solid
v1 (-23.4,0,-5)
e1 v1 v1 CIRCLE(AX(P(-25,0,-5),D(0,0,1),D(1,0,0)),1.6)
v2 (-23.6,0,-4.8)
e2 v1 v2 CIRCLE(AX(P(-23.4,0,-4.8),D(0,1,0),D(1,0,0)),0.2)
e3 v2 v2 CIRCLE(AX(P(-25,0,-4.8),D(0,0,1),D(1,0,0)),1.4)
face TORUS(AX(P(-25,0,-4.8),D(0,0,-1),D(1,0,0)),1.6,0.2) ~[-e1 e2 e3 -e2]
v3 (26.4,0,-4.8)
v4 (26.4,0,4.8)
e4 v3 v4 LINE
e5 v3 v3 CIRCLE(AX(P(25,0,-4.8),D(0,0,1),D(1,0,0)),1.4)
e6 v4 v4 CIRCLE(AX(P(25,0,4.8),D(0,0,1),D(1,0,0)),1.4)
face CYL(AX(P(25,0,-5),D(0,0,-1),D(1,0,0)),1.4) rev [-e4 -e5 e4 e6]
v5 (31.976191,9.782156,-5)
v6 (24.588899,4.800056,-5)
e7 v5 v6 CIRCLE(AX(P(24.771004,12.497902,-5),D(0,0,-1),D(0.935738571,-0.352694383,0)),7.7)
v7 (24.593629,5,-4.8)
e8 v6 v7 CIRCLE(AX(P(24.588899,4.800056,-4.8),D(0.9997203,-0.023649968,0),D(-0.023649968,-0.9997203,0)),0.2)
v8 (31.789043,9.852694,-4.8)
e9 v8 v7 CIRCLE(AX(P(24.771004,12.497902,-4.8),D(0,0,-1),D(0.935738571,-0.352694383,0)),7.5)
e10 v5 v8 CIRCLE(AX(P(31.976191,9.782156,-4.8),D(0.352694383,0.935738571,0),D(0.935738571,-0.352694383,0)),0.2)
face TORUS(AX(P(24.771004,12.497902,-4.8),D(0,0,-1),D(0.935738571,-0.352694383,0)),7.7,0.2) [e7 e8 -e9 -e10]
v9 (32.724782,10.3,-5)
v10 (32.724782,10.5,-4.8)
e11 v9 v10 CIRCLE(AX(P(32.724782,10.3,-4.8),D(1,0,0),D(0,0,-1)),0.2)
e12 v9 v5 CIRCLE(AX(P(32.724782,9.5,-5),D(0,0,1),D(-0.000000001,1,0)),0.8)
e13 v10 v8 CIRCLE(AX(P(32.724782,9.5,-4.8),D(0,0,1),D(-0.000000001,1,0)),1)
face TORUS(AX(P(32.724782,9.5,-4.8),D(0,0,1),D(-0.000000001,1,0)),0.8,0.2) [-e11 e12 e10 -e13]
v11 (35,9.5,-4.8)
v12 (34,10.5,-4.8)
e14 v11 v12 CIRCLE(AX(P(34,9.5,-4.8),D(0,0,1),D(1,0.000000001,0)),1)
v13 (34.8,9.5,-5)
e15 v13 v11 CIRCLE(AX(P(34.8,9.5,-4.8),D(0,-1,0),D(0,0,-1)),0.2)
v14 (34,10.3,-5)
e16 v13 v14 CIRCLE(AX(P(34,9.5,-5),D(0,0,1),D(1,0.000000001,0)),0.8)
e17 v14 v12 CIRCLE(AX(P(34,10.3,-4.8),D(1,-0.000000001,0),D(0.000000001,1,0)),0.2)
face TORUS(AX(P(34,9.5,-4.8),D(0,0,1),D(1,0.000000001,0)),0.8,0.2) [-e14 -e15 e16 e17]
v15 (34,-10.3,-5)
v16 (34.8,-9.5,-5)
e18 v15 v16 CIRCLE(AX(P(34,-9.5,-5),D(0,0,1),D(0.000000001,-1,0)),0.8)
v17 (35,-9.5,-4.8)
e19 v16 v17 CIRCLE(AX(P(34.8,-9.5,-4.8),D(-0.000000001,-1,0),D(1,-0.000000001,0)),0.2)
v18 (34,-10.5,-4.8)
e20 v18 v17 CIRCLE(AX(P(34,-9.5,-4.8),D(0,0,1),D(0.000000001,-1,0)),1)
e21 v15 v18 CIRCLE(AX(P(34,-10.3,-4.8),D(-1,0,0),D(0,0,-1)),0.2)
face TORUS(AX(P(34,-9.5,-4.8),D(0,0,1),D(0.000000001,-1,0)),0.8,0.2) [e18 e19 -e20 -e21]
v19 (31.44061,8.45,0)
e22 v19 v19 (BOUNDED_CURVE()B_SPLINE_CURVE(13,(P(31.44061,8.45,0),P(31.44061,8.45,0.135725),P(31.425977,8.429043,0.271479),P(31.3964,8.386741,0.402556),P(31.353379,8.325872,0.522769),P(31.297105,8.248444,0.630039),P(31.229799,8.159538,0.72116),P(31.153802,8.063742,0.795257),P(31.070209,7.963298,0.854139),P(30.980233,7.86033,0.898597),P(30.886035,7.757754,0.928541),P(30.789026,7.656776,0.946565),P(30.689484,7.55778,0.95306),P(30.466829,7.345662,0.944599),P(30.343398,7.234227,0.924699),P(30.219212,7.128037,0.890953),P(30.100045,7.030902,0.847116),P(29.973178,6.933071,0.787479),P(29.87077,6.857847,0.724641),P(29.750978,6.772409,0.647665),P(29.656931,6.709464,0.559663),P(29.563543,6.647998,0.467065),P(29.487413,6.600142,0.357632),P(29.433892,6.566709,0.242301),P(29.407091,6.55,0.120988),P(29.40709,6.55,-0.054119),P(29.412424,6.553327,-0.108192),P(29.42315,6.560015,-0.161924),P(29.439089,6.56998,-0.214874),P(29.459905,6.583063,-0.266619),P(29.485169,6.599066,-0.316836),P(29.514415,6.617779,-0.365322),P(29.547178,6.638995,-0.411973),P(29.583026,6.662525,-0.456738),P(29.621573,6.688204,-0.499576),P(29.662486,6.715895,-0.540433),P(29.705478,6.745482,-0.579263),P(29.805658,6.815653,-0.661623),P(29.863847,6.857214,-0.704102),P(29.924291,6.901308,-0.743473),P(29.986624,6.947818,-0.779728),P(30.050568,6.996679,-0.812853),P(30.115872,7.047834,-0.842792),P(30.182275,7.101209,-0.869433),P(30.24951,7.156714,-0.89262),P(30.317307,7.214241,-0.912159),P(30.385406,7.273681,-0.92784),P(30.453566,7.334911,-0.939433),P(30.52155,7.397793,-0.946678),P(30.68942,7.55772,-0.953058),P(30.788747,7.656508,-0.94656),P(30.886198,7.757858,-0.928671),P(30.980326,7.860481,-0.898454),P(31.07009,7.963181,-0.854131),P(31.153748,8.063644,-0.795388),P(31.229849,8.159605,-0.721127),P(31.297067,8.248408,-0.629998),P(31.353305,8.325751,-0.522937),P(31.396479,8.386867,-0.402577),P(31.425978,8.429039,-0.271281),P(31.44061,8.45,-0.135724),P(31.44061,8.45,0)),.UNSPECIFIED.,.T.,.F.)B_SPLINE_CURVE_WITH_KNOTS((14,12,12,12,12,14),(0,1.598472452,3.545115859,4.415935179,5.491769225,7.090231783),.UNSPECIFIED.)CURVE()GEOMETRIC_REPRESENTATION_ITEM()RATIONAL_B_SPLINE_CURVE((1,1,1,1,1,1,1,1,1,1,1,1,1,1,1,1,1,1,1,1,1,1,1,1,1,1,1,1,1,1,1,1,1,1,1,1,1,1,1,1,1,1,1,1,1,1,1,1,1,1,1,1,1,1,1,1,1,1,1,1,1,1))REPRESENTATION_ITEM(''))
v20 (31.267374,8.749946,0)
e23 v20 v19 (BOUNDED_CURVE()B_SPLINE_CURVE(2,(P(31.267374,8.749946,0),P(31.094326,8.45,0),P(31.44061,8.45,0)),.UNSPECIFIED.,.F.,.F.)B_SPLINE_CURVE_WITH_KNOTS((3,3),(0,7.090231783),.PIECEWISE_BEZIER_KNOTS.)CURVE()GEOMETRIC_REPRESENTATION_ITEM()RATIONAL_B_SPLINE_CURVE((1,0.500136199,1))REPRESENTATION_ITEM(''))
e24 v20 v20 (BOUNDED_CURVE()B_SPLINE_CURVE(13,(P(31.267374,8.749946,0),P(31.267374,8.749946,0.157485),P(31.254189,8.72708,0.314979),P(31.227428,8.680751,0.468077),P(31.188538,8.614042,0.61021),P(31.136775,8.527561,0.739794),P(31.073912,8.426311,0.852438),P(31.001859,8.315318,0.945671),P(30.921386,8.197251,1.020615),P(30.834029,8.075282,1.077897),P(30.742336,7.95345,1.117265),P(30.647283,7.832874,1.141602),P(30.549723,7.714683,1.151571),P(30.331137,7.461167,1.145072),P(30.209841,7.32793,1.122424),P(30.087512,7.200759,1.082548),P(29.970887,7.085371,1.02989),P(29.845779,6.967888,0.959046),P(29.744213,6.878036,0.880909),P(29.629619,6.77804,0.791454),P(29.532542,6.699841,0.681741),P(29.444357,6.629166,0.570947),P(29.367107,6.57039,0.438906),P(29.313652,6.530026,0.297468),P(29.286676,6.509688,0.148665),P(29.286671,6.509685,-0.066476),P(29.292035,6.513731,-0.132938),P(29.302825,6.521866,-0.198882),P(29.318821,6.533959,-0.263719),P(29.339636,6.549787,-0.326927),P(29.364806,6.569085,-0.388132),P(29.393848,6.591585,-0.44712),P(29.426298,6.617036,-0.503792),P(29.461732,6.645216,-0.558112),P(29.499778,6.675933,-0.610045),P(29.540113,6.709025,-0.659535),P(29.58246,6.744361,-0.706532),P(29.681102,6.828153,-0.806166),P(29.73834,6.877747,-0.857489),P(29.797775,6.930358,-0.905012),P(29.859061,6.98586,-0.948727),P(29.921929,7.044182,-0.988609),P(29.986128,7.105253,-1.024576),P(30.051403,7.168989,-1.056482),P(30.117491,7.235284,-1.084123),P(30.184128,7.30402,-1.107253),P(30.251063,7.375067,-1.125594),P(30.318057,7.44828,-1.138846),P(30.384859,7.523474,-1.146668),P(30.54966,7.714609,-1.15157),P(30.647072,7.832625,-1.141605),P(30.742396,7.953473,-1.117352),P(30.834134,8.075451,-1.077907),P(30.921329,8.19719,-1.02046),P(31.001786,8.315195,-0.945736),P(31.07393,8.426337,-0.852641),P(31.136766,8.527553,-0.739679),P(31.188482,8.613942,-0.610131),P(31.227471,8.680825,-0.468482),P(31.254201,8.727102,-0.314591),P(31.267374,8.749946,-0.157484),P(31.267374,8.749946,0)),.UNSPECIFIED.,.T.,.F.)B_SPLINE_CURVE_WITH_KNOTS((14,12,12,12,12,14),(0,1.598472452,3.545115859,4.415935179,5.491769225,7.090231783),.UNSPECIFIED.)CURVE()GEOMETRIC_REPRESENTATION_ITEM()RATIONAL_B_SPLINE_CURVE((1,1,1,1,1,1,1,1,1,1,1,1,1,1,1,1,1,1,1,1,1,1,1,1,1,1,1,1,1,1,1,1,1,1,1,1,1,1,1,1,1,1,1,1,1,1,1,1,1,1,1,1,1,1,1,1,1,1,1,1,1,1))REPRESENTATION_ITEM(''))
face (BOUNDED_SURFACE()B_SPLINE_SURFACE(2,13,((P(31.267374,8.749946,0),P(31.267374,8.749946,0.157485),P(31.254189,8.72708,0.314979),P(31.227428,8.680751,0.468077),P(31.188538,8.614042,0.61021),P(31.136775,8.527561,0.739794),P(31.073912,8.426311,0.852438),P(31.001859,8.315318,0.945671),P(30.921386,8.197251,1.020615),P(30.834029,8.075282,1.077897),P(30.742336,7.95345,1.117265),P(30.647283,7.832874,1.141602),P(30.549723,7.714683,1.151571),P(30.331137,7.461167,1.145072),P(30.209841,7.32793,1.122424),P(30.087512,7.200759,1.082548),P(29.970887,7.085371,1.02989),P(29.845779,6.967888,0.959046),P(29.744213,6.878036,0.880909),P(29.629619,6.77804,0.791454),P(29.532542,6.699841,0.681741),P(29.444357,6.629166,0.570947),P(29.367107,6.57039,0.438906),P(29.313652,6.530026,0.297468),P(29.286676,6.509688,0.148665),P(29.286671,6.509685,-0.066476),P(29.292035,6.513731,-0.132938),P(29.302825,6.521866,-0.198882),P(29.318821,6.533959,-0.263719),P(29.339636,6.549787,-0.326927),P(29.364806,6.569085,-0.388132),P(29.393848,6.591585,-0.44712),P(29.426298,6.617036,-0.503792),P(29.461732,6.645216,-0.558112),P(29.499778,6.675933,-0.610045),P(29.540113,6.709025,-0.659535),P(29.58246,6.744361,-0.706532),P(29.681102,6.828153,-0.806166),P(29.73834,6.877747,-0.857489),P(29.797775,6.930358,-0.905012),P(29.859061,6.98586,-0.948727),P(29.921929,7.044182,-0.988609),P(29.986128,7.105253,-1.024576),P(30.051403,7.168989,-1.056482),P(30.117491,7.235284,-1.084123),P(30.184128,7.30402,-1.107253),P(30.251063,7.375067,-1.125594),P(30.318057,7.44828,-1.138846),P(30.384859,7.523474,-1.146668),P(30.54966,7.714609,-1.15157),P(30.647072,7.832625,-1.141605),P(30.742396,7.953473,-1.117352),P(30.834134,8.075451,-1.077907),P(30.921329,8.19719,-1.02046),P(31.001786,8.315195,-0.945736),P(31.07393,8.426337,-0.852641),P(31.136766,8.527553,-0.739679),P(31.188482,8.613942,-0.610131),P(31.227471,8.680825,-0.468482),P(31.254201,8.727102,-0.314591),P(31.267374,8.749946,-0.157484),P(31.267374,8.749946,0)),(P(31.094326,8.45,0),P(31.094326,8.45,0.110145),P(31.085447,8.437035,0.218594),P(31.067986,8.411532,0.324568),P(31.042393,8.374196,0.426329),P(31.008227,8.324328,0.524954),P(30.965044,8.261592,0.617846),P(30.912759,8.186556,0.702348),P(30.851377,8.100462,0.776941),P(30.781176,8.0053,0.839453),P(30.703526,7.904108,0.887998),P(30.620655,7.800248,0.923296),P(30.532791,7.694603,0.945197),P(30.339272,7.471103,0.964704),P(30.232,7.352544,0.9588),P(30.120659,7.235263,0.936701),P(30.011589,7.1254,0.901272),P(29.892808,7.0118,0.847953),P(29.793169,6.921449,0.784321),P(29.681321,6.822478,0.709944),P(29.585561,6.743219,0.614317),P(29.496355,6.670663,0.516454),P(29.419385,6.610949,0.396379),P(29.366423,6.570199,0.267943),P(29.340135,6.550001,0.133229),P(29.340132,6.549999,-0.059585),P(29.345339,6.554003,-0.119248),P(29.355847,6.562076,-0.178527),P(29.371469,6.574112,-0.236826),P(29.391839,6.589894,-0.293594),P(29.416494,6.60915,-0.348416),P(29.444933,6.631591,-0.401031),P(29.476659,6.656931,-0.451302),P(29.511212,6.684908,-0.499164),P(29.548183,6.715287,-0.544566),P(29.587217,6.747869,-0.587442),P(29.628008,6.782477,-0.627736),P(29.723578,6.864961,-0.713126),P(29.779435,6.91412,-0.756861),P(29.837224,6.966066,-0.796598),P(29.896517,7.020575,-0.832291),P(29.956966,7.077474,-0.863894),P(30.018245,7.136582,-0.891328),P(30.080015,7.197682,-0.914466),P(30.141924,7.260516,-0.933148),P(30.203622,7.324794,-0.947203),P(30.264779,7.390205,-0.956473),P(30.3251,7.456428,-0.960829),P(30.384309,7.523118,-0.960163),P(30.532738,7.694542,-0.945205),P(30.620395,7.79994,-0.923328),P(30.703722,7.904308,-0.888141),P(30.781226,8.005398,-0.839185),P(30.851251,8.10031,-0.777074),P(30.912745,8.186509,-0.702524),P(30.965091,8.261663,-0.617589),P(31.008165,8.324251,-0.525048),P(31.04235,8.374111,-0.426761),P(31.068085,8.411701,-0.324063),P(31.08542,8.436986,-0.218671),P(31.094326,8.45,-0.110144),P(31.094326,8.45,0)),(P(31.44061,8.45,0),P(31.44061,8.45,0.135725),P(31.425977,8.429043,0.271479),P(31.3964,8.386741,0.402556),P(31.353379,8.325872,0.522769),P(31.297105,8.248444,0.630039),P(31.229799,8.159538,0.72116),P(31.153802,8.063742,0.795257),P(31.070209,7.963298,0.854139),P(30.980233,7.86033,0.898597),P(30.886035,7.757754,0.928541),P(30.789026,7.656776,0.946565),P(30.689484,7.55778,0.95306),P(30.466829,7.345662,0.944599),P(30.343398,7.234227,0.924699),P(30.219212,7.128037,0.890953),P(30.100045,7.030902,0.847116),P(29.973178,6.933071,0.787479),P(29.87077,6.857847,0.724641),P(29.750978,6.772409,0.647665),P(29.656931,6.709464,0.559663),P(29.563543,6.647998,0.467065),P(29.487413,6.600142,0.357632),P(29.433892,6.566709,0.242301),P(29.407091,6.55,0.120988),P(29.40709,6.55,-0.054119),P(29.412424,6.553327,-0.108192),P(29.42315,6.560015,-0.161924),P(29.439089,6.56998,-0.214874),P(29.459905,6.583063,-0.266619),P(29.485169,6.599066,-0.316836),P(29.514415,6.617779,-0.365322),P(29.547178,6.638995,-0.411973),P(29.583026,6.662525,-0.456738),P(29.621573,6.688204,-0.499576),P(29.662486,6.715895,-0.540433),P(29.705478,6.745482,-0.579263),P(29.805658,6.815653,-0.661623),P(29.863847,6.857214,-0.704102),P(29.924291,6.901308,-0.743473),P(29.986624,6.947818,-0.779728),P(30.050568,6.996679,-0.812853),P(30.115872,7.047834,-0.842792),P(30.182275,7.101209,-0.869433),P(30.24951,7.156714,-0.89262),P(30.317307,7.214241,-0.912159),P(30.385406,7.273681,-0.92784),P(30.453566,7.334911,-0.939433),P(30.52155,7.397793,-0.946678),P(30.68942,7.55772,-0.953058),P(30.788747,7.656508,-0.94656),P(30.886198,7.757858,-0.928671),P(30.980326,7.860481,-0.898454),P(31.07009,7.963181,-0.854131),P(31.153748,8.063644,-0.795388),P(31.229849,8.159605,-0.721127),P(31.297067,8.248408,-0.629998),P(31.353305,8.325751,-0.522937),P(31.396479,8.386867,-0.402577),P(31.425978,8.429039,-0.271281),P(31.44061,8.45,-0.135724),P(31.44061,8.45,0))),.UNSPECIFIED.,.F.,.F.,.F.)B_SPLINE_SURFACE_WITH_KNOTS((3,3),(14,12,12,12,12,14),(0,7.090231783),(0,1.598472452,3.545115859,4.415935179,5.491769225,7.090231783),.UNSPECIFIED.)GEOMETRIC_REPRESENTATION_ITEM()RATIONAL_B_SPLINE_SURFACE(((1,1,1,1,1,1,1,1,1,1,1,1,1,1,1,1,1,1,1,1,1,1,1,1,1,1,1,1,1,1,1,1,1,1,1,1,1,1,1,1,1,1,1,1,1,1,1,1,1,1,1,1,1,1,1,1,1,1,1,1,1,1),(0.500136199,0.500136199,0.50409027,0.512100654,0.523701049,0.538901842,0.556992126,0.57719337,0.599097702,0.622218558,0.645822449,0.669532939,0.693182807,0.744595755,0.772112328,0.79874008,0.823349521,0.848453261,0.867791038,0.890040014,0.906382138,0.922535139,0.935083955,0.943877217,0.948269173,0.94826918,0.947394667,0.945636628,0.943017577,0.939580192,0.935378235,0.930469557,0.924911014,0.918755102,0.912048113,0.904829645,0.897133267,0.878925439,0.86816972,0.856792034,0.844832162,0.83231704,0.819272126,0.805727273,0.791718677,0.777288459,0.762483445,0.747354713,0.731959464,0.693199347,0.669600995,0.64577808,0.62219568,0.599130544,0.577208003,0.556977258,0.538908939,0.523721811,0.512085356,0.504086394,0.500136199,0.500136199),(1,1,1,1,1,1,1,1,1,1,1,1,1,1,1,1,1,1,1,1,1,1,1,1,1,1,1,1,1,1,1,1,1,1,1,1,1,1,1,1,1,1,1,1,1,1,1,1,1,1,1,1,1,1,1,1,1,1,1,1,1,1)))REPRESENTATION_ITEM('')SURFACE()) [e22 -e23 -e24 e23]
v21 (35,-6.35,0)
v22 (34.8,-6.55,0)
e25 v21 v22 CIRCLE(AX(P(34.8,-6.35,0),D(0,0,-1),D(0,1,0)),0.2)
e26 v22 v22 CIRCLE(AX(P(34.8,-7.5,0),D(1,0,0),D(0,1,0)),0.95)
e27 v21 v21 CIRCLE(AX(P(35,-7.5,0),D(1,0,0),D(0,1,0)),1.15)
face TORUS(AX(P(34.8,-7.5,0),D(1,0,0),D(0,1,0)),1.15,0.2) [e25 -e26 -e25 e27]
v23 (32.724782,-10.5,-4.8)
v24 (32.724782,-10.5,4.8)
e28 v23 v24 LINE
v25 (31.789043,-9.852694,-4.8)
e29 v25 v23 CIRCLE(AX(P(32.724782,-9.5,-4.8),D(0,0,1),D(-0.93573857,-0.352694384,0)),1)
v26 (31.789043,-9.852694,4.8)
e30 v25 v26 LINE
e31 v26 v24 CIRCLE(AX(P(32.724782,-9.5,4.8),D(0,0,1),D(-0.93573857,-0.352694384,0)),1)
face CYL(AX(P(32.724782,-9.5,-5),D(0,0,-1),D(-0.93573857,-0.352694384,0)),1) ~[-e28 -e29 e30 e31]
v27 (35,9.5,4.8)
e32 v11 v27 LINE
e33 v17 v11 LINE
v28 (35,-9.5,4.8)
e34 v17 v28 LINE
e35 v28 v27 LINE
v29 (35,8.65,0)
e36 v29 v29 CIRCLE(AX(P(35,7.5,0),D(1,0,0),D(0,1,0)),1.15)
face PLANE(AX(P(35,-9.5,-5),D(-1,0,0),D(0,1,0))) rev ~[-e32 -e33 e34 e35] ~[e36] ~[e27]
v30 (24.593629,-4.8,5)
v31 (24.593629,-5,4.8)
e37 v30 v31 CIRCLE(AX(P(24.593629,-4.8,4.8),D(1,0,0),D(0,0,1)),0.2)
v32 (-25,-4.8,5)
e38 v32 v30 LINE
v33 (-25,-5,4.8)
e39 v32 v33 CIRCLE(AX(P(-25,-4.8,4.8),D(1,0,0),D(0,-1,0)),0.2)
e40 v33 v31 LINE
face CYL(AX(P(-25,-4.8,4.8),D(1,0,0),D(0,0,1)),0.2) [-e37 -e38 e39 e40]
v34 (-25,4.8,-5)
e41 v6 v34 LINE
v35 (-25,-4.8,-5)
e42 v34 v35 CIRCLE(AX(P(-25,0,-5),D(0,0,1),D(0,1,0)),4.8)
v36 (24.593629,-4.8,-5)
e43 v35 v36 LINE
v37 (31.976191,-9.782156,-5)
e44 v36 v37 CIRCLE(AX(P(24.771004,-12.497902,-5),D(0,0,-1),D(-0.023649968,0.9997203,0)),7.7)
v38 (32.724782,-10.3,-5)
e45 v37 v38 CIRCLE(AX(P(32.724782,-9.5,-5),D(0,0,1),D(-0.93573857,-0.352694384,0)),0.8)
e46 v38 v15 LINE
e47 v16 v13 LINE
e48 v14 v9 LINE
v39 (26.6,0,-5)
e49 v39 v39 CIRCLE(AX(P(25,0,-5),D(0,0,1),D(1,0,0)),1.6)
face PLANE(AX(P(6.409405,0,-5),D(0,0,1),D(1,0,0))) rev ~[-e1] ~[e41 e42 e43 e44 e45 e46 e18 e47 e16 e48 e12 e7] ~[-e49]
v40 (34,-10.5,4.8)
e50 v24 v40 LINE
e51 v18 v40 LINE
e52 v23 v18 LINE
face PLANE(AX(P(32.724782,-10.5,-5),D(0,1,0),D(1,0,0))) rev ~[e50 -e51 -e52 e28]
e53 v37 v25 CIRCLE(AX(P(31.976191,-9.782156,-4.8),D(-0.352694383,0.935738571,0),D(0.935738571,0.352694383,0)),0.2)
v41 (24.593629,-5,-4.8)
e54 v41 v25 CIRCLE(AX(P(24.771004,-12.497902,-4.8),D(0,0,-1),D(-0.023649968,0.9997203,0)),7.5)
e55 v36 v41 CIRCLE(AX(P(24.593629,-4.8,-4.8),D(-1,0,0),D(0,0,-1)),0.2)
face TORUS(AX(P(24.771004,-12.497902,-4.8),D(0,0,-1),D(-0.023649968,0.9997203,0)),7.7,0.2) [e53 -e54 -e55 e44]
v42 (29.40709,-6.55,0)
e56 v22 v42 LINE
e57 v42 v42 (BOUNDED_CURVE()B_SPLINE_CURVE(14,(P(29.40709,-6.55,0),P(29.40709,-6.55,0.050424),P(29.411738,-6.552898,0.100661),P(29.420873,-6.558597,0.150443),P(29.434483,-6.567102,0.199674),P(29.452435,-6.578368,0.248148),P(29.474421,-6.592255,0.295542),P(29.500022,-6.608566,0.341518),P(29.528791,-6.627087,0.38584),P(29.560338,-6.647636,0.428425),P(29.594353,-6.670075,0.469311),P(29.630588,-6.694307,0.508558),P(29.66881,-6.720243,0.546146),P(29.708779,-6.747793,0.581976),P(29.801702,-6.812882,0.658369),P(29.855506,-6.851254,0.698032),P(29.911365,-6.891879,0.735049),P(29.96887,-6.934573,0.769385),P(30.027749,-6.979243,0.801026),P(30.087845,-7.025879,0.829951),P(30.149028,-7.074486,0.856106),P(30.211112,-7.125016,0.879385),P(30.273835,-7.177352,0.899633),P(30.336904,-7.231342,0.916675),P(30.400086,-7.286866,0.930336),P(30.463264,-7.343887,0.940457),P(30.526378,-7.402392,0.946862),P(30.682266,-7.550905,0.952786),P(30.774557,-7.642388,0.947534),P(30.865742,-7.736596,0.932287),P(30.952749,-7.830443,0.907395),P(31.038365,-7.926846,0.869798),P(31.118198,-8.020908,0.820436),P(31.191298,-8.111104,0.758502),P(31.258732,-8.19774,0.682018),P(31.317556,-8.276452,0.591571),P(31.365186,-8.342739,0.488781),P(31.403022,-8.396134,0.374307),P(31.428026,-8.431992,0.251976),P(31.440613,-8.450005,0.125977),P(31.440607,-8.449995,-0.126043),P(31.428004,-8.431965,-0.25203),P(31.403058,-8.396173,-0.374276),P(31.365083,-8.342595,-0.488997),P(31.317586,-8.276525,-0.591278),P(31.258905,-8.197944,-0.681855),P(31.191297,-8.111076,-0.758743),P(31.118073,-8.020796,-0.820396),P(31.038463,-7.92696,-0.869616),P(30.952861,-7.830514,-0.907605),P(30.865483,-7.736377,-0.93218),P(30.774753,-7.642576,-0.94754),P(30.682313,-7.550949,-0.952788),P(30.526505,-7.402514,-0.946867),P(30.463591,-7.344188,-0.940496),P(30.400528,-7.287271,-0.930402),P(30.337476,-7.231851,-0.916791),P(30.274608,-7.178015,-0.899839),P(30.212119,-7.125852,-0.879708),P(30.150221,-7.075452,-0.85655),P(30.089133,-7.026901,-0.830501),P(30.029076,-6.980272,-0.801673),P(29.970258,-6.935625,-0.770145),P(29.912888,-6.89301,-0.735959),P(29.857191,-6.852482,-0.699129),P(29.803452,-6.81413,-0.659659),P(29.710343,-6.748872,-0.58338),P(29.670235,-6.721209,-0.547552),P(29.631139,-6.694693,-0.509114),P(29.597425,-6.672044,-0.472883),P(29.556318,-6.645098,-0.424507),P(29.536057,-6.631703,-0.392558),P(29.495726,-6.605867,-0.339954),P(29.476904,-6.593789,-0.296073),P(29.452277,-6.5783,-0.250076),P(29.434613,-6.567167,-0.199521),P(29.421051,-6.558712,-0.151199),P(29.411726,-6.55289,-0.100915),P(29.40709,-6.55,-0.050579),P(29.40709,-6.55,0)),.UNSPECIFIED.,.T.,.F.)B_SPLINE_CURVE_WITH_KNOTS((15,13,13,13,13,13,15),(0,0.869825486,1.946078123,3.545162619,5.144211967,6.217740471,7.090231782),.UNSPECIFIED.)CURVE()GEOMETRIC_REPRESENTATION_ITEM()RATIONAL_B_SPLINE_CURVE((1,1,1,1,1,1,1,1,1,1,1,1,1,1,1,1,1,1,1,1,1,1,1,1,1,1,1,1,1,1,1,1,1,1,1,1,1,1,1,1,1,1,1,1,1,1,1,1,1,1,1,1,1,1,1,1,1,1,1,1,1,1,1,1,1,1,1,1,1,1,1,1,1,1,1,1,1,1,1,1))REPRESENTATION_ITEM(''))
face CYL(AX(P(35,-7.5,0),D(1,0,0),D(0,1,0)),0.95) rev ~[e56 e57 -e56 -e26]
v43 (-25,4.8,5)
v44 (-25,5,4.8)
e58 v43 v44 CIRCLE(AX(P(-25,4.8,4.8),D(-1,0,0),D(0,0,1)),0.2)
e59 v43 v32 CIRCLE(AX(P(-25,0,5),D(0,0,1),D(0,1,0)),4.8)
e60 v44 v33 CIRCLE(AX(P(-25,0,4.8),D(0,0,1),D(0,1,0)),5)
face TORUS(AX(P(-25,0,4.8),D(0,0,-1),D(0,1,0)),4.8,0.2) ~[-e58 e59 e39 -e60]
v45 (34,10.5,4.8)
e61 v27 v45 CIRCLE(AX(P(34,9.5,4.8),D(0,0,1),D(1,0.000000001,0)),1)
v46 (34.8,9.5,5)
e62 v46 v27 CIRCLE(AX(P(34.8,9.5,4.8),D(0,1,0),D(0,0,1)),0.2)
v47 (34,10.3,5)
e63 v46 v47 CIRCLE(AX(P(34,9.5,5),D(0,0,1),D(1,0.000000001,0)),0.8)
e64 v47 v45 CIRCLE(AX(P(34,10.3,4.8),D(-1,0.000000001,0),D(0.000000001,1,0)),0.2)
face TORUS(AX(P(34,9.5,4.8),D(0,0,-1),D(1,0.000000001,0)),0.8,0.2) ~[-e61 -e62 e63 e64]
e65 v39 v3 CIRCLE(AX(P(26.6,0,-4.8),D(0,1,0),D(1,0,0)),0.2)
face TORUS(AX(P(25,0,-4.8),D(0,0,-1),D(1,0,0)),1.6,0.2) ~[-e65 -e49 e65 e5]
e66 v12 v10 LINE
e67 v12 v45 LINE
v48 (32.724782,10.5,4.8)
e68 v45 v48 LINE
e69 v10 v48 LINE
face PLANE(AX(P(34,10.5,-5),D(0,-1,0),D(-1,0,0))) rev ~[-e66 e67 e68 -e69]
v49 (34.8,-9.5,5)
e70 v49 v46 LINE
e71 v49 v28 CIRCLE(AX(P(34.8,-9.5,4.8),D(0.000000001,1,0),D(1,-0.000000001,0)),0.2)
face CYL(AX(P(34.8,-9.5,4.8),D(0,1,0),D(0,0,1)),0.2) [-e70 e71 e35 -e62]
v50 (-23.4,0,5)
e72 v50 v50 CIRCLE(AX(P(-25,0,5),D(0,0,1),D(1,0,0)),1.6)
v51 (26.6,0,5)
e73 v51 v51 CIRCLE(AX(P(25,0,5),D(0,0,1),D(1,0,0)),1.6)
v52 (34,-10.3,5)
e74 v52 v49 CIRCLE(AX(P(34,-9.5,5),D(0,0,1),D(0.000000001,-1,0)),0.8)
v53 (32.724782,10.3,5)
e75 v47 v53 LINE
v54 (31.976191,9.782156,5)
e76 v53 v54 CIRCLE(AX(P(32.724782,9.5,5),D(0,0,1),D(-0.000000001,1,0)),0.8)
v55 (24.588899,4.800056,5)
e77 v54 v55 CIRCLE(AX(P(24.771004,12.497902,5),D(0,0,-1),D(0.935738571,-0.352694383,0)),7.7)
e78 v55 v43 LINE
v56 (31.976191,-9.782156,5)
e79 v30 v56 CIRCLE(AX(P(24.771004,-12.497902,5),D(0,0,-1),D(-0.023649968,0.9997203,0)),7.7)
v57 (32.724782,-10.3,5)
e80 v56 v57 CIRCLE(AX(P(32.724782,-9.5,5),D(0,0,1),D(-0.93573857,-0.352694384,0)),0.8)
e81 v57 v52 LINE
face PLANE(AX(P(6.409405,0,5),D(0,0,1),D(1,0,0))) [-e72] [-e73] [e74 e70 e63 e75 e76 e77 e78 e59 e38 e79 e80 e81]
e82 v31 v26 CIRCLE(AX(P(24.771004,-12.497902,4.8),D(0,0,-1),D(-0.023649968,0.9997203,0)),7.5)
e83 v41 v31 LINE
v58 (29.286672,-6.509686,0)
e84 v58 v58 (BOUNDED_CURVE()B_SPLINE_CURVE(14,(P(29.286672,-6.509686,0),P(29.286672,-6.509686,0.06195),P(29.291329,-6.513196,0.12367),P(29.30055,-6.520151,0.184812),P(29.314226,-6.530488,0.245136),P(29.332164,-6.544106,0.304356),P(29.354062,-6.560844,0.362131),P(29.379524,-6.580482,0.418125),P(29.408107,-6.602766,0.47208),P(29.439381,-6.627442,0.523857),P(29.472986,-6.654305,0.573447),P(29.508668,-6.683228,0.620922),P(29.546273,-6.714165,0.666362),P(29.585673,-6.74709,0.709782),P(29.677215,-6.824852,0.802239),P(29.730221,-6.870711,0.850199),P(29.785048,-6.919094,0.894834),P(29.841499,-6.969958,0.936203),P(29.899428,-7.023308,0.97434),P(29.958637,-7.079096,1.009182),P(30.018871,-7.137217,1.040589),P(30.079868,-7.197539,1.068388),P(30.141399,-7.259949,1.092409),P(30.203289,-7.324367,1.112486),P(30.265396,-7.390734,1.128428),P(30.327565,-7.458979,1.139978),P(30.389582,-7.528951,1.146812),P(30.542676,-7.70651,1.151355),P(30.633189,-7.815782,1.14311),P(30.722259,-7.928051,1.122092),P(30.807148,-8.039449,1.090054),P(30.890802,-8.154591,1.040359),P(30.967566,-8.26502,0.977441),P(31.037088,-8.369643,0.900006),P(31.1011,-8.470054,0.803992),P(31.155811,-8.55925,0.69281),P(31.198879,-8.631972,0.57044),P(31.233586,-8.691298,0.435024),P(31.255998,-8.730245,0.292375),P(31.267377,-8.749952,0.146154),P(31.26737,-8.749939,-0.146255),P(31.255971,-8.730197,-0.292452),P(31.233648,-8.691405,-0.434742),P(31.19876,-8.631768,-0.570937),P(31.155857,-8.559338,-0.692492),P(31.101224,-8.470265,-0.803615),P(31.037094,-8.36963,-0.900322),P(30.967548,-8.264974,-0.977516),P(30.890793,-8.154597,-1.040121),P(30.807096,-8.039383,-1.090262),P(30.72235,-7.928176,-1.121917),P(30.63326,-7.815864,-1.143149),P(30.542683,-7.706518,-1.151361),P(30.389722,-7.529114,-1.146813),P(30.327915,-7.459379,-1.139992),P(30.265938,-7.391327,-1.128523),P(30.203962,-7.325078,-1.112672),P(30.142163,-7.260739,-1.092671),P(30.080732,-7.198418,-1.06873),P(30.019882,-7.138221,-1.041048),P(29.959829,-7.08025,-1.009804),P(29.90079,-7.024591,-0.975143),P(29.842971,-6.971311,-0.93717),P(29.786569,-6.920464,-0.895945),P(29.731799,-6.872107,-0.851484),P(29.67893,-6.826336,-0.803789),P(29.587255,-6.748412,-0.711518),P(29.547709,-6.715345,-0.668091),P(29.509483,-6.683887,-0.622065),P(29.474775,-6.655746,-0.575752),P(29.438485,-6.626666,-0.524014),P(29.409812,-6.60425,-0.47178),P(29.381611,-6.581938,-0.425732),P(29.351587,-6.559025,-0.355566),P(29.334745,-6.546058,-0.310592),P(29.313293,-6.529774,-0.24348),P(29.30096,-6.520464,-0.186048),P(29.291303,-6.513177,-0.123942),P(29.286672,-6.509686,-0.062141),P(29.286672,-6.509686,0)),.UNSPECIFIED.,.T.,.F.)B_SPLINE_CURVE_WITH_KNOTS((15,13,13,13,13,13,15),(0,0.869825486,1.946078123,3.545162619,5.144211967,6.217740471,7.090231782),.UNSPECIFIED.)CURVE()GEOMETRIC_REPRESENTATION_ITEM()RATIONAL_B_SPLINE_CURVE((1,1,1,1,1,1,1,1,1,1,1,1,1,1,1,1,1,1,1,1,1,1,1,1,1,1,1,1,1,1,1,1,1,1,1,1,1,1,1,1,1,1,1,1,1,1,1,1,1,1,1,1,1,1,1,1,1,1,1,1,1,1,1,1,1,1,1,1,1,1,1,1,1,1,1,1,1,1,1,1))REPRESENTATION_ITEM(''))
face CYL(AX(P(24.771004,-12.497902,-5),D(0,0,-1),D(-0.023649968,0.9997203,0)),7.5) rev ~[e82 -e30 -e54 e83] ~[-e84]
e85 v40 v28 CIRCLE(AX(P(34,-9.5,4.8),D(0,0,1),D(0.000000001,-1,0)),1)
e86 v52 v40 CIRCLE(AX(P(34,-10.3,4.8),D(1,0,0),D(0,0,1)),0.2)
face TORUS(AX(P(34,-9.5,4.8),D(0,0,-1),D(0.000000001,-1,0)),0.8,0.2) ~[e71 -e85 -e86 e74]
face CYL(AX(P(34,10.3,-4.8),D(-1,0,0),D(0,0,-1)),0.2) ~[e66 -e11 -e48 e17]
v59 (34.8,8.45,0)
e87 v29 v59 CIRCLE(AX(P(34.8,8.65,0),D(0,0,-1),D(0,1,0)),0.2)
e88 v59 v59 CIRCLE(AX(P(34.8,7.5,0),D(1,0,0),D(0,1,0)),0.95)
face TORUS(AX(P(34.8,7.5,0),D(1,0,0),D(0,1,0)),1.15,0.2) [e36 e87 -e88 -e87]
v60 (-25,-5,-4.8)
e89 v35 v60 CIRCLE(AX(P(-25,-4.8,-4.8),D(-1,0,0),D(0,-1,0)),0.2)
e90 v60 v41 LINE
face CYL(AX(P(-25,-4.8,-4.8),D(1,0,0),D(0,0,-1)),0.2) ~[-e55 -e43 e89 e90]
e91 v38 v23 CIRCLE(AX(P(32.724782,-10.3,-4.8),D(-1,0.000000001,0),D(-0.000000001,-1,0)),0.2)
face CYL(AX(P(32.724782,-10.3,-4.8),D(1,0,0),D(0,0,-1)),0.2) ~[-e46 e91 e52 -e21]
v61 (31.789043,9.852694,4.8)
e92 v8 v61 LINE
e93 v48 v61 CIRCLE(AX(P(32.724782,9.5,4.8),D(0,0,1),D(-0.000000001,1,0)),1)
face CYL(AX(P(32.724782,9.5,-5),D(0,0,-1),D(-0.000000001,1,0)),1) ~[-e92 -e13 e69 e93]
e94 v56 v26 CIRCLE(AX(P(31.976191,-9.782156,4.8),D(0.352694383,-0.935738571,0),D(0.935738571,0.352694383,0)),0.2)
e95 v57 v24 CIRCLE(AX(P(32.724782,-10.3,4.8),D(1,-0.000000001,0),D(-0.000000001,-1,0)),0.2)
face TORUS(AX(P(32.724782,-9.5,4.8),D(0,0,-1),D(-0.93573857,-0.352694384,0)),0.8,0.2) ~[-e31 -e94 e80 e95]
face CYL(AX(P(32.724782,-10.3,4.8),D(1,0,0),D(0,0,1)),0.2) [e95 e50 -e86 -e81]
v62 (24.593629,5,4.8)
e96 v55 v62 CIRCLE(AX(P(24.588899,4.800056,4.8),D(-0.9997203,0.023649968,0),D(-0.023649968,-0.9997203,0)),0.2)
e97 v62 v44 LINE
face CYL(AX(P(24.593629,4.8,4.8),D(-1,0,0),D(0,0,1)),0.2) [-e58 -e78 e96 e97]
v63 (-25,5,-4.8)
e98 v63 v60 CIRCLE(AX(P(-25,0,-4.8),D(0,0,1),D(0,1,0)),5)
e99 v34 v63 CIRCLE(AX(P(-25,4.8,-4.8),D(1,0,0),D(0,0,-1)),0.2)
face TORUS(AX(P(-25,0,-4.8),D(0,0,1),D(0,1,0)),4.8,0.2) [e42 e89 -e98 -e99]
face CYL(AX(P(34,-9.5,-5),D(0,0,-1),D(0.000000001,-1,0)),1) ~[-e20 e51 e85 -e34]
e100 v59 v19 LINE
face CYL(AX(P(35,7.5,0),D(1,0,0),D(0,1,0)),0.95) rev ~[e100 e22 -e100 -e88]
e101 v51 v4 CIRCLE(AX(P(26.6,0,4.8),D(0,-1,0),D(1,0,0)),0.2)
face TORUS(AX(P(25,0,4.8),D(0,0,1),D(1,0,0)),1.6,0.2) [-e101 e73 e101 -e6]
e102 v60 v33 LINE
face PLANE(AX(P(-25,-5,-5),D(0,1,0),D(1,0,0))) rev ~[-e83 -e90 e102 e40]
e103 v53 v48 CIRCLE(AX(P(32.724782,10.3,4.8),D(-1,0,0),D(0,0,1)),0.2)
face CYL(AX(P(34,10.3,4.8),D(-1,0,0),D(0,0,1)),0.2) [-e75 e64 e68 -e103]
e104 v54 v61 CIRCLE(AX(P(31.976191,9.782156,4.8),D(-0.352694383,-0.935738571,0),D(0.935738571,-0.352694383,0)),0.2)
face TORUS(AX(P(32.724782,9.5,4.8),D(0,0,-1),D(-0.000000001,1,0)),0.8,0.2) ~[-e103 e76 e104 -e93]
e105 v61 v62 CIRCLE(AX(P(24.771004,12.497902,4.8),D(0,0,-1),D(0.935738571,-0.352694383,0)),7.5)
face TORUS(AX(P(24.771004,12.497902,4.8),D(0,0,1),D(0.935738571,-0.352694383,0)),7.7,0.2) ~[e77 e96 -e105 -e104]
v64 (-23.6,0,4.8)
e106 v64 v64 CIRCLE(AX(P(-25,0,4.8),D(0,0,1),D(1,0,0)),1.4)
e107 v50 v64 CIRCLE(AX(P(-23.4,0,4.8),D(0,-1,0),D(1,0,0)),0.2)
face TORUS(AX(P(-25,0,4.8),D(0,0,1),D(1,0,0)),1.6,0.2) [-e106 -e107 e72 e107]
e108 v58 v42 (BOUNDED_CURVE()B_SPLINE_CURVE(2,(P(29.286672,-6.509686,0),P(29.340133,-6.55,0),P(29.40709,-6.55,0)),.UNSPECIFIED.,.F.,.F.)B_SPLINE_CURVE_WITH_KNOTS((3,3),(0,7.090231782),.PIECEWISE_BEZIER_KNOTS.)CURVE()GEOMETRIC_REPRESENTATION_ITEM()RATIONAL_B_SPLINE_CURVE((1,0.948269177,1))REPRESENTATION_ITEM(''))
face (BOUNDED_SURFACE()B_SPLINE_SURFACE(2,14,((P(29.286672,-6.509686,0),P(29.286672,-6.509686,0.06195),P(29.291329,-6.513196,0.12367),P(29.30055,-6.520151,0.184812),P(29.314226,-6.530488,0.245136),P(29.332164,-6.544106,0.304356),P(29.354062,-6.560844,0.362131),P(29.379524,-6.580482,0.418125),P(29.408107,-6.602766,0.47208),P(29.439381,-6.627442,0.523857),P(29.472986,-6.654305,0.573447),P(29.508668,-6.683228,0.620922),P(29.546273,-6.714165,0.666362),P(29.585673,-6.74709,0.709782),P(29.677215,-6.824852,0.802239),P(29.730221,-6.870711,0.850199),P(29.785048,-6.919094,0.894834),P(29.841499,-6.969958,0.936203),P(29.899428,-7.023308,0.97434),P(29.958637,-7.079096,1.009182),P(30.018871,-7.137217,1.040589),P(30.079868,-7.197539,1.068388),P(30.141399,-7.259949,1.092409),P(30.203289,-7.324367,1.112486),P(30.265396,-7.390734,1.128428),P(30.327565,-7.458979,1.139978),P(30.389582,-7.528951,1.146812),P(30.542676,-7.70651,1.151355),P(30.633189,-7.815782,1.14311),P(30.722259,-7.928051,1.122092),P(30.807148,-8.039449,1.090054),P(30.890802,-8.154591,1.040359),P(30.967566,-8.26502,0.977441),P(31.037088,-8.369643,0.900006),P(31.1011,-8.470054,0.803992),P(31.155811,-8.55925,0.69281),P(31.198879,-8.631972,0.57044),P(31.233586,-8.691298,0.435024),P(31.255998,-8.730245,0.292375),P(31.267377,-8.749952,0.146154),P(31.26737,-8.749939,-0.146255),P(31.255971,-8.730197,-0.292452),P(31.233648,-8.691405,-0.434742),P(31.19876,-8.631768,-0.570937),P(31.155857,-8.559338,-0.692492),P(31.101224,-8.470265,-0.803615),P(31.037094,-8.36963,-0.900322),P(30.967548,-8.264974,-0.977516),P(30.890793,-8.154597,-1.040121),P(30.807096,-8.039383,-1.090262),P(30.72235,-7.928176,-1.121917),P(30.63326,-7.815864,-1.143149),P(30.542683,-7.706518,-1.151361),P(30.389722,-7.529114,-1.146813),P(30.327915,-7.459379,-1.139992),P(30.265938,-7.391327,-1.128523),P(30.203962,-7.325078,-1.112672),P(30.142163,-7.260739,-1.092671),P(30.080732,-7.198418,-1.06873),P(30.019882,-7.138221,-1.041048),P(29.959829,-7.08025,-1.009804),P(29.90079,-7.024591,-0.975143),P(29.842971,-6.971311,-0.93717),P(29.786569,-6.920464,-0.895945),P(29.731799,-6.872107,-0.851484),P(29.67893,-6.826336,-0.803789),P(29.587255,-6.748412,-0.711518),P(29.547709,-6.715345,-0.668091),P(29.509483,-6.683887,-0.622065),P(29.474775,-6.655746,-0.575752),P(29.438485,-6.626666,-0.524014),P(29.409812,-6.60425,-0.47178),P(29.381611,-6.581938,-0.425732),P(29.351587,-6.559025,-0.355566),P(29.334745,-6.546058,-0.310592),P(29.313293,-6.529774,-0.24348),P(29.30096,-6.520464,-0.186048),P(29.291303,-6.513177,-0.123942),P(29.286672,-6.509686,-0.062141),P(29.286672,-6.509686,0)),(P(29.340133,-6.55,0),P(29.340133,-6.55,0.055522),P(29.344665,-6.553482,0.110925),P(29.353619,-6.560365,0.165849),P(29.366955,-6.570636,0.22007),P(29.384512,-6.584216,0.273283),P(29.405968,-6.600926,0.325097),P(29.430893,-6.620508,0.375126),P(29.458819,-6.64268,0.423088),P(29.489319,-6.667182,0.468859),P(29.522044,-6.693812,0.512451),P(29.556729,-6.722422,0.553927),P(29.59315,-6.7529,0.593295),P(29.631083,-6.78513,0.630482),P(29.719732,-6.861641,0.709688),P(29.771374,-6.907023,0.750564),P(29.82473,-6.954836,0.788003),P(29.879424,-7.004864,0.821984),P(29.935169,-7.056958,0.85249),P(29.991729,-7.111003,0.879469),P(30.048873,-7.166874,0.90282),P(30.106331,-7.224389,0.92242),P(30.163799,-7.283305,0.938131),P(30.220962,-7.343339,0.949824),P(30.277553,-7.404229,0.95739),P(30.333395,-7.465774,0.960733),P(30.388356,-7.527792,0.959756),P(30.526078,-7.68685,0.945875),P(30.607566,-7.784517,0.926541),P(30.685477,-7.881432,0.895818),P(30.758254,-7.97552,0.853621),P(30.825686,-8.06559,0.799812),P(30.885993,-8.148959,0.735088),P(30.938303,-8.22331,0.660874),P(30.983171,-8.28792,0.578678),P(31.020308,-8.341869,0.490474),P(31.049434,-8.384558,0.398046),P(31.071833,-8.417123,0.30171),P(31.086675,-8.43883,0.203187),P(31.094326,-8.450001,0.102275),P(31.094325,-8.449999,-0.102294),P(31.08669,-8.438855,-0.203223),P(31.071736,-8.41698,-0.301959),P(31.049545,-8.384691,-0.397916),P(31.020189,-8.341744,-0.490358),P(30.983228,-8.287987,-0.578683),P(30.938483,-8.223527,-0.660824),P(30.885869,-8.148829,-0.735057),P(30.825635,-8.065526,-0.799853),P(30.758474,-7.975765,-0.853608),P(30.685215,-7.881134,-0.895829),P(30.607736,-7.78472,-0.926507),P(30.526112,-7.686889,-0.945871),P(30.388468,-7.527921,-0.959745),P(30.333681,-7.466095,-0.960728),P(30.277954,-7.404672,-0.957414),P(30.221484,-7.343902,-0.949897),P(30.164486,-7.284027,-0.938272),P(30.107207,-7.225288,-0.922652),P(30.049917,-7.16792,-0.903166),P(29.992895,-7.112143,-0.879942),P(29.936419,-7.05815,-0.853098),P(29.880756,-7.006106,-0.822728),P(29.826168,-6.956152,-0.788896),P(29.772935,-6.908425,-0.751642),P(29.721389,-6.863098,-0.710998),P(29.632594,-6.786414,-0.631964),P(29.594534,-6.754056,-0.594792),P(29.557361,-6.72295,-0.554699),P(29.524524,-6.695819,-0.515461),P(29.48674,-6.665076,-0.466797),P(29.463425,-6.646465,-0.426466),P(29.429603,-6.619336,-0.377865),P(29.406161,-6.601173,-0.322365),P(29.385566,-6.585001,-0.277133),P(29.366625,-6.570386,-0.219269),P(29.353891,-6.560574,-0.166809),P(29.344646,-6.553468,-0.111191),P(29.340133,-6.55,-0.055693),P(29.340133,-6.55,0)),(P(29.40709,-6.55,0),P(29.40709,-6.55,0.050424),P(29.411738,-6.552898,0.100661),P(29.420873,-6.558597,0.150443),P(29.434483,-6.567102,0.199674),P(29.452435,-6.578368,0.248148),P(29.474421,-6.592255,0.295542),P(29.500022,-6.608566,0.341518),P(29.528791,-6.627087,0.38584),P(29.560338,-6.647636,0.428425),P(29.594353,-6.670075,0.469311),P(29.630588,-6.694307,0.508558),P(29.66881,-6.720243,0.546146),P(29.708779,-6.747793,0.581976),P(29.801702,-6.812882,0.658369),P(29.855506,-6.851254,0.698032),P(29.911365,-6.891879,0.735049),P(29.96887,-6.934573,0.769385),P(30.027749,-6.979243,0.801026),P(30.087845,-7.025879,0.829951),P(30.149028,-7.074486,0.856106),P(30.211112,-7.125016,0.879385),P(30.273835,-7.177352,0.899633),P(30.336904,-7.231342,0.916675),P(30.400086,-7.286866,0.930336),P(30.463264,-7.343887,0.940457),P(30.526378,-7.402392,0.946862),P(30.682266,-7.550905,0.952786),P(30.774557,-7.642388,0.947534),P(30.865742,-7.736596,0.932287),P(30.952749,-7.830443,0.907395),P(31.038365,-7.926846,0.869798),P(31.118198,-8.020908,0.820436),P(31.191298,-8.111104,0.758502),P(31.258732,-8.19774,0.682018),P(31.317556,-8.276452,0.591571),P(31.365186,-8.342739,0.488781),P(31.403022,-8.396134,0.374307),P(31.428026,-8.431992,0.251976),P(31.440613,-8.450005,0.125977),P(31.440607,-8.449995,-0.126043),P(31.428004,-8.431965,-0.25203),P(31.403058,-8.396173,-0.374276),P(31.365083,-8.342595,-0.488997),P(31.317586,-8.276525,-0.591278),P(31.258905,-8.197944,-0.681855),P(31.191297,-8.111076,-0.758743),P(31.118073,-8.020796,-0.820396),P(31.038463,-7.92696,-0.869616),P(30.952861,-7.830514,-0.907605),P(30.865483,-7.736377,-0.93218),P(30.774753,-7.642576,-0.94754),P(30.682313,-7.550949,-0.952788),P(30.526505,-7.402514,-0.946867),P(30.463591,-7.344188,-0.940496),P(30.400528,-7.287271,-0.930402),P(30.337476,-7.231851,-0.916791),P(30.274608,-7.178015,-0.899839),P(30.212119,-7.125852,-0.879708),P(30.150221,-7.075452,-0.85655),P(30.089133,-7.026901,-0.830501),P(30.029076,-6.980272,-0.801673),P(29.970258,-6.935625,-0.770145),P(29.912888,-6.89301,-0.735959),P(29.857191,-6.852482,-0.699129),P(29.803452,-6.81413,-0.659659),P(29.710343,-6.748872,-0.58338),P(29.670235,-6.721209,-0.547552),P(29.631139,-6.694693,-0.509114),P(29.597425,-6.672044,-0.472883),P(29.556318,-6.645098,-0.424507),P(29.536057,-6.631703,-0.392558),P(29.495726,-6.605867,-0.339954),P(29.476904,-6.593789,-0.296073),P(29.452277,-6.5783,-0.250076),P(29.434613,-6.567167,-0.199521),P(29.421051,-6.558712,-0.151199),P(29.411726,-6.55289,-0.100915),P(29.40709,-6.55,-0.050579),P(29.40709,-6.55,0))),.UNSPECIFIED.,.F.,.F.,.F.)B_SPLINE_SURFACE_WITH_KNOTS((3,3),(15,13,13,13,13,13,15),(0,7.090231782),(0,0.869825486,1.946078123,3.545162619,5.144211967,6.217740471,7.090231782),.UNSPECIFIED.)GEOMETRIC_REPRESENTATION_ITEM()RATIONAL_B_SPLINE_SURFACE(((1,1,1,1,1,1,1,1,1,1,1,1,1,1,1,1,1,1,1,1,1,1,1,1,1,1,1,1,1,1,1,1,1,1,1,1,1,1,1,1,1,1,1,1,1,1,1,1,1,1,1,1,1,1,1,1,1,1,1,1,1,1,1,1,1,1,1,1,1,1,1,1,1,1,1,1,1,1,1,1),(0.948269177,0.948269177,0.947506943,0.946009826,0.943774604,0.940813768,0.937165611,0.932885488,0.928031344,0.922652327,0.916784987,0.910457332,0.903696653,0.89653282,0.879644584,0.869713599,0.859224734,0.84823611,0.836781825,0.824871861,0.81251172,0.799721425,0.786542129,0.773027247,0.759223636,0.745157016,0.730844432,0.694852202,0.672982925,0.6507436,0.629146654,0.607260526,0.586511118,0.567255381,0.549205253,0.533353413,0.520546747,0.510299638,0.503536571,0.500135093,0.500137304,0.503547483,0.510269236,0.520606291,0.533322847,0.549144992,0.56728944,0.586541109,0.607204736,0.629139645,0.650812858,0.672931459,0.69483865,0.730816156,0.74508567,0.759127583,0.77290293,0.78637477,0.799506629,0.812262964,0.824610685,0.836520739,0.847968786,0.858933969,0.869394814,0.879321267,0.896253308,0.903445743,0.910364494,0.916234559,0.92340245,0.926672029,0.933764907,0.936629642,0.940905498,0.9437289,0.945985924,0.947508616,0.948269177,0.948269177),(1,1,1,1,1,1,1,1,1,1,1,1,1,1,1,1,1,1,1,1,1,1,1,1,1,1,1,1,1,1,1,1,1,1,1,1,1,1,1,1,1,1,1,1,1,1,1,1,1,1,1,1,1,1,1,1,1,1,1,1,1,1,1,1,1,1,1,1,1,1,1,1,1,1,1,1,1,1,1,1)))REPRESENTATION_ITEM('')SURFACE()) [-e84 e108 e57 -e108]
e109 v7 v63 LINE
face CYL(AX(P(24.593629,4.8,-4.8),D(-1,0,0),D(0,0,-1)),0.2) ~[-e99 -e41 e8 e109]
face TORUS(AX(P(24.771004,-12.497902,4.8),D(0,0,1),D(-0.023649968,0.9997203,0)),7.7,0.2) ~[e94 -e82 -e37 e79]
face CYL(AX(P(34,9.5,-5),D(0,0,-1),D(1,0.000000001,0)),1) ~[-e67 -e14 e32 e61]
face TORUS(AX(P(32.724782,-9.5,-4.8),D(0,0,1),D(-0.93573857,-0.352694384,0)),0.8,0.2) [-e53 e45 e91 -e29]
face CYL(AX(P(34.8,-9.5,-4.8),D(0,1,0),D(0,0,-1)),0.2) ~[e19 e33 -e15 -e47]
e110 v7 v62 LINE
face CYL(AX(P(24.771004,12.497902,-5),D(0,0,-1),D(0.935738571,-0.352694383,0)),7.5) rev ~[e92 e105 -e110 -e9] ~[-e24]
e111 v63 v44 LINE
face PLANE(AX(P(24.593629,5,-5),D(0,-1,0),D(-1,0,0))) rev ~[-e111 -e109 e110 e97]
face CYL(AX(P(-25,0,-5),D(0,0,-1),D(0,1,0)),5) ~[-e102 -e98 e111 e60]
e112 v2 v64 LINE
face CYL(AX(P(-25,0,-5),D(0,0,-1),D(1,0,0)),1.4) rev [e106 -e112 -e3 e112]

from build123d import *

# Parameters (mm, degrees)
EXTRUDE_1_DEPTH      = 5
EXTRUDE_1_DEPTH_BACK = 5
SKETCH_1_R           = 1.4
SKETCH_2_R           = 0.95
CUT_EXTRUDE_1_DEPTH  = 67.03218912
FILLET_1_R           = 0.2


with BuildPart() as part:
    # 스케치1 → 보스-돌출1 (new, two sides: drawn at the far end of the back side and taken through both)
    with BuildSketch(Plane.XY.offset(-EXTRUDE_1_DEPTH_BACK)):
        with BuildLine():
            ThreePointArc((-25, 5), (-30, 0), (-25, -5))
            Line((-25, -5), (24.593629003, -5))
            ThreePointArc((24.593629003, -5), (28.964550408, -6.279850585), (31.789043043, -9.852694383))
            ThreePointArc((31.789043043, -9.852694383), (32.155876693, -10.322403302), (32.724781613, -10.5))
            Line((32.724781613, -10.5), (34, -10.5))
            ThreePointArc((34, -10.5), (34.707106781, -10.207106781), (35, -9.5))
            Line((35, -9.5), (35, 9.5))
            ThreePointArc((35, 9.5), (34.707106781, 10.207106781), (34, 10.5))
            Line((34, 10.5), (32.724781613, 10.5))
            ThreePointArc((32.724781613, 10.5), (32.155876693, 10.322403302), (31.789043043, 9.852694383))
            ThreePointArc((31.789043043, 9.852694383), (28.964550408, 6.279850585), (24.593629003, 5))
            Line((24.593629003, 5), (-25, 5))
        make_face()
        with Locations((-25, 0)):
            Circle(SKETCH_1_R, mode=Mode.SUBTRACT)
        with Locations((25, 0)):
            Circle(SKETCH_1_R, mode=Mode.SUBTRACT)
    extrude(amount=EXTRUDE_1_DEPTH + EXTRUDE_1_DEPTH_BACK)

    # 스케치2 → 컷-돌출1 (cut, through all)
    with BuildSketch(Plane(origin=(35, 0, 0), x_dir=(0, 0, -1), z_dir=(1, 0, 0))):
        with Locations(Location((0, 7.5, 0), (0, 0, 90))):
            Circle(SKETCH_2_R)
        with Locations(Location((0, -7.5, 0), (0, 0, 90))):
            Circle(SKETCH_2_R)
    extrude(amount=-CUT_EXTRUDE_1_DEPTH, mode=Mode.SUBTRACT)

    # 필렛1
    fillet_1_edges = [part.edges().sort_by_distance(p)[0] for p in [
        (35, -8.45, 0),
        (31.084836779, -8.45, 0),
        (29.339642378, 6.55, 0),
        (35, 6.55, 0),
        (-26.4, 0, -5),
        (-26.4, 0, 5),
        (23.6, 0, -5),
        (23.6, 0, 5),
        (28.964550408, 6.279850585, 5),
        (28.964550408, 6.279850585, -5),
        (28.964550408, 6.279850585, -5),
        (28.964550408, 6.279850585, 5),
        (-0.203185498, 5, 5),
        (-0.203185498, 5, -5),
        (-30, 0, 5),
        (-30, 0, -5),
        (-0.203185498, -5, 5),
        (-0.203185498, -5, -5),
        (28.964550408, -6.279850585, 5),
        (28.964550408, -6.279850585, -5),
        (28.964550408, -6.279850585, 5),
        (28.964550408, -6.279850585, -5),
        (28.964550408, -6.279850585, 5),
        (28.964550408, -6.279850585, -5),
        (32.155876693, -10.322403302, 5),
        (32.155876693, -10.322403302, -5),
        (33.362390807, -10.5, 5),
        (33.362390807, -10.5, -5),
        (34.707106781, -10.207106781, 5),
        (34.707106781, -10.207106781, -5),
        (35, 0, 5),
        (35, 0, -5),
        (34.707106781, 10.207106781, 5),
        (34.707106781, 10.207106781, -5),
        (33.362390807, 10.5, 5),
        (33.362390807, 10.5, -5),
        (32.155876693, 10.322403302, 5),
        (32.155876693, 10.322403302, -5),
        (28.964550408, 6.279850585, -5),
        (28.964550408, 6.279850585, 5),
    ]]
    fillet(fillet_1_edges, radius=FILLET_1_R)


solid = part.part
